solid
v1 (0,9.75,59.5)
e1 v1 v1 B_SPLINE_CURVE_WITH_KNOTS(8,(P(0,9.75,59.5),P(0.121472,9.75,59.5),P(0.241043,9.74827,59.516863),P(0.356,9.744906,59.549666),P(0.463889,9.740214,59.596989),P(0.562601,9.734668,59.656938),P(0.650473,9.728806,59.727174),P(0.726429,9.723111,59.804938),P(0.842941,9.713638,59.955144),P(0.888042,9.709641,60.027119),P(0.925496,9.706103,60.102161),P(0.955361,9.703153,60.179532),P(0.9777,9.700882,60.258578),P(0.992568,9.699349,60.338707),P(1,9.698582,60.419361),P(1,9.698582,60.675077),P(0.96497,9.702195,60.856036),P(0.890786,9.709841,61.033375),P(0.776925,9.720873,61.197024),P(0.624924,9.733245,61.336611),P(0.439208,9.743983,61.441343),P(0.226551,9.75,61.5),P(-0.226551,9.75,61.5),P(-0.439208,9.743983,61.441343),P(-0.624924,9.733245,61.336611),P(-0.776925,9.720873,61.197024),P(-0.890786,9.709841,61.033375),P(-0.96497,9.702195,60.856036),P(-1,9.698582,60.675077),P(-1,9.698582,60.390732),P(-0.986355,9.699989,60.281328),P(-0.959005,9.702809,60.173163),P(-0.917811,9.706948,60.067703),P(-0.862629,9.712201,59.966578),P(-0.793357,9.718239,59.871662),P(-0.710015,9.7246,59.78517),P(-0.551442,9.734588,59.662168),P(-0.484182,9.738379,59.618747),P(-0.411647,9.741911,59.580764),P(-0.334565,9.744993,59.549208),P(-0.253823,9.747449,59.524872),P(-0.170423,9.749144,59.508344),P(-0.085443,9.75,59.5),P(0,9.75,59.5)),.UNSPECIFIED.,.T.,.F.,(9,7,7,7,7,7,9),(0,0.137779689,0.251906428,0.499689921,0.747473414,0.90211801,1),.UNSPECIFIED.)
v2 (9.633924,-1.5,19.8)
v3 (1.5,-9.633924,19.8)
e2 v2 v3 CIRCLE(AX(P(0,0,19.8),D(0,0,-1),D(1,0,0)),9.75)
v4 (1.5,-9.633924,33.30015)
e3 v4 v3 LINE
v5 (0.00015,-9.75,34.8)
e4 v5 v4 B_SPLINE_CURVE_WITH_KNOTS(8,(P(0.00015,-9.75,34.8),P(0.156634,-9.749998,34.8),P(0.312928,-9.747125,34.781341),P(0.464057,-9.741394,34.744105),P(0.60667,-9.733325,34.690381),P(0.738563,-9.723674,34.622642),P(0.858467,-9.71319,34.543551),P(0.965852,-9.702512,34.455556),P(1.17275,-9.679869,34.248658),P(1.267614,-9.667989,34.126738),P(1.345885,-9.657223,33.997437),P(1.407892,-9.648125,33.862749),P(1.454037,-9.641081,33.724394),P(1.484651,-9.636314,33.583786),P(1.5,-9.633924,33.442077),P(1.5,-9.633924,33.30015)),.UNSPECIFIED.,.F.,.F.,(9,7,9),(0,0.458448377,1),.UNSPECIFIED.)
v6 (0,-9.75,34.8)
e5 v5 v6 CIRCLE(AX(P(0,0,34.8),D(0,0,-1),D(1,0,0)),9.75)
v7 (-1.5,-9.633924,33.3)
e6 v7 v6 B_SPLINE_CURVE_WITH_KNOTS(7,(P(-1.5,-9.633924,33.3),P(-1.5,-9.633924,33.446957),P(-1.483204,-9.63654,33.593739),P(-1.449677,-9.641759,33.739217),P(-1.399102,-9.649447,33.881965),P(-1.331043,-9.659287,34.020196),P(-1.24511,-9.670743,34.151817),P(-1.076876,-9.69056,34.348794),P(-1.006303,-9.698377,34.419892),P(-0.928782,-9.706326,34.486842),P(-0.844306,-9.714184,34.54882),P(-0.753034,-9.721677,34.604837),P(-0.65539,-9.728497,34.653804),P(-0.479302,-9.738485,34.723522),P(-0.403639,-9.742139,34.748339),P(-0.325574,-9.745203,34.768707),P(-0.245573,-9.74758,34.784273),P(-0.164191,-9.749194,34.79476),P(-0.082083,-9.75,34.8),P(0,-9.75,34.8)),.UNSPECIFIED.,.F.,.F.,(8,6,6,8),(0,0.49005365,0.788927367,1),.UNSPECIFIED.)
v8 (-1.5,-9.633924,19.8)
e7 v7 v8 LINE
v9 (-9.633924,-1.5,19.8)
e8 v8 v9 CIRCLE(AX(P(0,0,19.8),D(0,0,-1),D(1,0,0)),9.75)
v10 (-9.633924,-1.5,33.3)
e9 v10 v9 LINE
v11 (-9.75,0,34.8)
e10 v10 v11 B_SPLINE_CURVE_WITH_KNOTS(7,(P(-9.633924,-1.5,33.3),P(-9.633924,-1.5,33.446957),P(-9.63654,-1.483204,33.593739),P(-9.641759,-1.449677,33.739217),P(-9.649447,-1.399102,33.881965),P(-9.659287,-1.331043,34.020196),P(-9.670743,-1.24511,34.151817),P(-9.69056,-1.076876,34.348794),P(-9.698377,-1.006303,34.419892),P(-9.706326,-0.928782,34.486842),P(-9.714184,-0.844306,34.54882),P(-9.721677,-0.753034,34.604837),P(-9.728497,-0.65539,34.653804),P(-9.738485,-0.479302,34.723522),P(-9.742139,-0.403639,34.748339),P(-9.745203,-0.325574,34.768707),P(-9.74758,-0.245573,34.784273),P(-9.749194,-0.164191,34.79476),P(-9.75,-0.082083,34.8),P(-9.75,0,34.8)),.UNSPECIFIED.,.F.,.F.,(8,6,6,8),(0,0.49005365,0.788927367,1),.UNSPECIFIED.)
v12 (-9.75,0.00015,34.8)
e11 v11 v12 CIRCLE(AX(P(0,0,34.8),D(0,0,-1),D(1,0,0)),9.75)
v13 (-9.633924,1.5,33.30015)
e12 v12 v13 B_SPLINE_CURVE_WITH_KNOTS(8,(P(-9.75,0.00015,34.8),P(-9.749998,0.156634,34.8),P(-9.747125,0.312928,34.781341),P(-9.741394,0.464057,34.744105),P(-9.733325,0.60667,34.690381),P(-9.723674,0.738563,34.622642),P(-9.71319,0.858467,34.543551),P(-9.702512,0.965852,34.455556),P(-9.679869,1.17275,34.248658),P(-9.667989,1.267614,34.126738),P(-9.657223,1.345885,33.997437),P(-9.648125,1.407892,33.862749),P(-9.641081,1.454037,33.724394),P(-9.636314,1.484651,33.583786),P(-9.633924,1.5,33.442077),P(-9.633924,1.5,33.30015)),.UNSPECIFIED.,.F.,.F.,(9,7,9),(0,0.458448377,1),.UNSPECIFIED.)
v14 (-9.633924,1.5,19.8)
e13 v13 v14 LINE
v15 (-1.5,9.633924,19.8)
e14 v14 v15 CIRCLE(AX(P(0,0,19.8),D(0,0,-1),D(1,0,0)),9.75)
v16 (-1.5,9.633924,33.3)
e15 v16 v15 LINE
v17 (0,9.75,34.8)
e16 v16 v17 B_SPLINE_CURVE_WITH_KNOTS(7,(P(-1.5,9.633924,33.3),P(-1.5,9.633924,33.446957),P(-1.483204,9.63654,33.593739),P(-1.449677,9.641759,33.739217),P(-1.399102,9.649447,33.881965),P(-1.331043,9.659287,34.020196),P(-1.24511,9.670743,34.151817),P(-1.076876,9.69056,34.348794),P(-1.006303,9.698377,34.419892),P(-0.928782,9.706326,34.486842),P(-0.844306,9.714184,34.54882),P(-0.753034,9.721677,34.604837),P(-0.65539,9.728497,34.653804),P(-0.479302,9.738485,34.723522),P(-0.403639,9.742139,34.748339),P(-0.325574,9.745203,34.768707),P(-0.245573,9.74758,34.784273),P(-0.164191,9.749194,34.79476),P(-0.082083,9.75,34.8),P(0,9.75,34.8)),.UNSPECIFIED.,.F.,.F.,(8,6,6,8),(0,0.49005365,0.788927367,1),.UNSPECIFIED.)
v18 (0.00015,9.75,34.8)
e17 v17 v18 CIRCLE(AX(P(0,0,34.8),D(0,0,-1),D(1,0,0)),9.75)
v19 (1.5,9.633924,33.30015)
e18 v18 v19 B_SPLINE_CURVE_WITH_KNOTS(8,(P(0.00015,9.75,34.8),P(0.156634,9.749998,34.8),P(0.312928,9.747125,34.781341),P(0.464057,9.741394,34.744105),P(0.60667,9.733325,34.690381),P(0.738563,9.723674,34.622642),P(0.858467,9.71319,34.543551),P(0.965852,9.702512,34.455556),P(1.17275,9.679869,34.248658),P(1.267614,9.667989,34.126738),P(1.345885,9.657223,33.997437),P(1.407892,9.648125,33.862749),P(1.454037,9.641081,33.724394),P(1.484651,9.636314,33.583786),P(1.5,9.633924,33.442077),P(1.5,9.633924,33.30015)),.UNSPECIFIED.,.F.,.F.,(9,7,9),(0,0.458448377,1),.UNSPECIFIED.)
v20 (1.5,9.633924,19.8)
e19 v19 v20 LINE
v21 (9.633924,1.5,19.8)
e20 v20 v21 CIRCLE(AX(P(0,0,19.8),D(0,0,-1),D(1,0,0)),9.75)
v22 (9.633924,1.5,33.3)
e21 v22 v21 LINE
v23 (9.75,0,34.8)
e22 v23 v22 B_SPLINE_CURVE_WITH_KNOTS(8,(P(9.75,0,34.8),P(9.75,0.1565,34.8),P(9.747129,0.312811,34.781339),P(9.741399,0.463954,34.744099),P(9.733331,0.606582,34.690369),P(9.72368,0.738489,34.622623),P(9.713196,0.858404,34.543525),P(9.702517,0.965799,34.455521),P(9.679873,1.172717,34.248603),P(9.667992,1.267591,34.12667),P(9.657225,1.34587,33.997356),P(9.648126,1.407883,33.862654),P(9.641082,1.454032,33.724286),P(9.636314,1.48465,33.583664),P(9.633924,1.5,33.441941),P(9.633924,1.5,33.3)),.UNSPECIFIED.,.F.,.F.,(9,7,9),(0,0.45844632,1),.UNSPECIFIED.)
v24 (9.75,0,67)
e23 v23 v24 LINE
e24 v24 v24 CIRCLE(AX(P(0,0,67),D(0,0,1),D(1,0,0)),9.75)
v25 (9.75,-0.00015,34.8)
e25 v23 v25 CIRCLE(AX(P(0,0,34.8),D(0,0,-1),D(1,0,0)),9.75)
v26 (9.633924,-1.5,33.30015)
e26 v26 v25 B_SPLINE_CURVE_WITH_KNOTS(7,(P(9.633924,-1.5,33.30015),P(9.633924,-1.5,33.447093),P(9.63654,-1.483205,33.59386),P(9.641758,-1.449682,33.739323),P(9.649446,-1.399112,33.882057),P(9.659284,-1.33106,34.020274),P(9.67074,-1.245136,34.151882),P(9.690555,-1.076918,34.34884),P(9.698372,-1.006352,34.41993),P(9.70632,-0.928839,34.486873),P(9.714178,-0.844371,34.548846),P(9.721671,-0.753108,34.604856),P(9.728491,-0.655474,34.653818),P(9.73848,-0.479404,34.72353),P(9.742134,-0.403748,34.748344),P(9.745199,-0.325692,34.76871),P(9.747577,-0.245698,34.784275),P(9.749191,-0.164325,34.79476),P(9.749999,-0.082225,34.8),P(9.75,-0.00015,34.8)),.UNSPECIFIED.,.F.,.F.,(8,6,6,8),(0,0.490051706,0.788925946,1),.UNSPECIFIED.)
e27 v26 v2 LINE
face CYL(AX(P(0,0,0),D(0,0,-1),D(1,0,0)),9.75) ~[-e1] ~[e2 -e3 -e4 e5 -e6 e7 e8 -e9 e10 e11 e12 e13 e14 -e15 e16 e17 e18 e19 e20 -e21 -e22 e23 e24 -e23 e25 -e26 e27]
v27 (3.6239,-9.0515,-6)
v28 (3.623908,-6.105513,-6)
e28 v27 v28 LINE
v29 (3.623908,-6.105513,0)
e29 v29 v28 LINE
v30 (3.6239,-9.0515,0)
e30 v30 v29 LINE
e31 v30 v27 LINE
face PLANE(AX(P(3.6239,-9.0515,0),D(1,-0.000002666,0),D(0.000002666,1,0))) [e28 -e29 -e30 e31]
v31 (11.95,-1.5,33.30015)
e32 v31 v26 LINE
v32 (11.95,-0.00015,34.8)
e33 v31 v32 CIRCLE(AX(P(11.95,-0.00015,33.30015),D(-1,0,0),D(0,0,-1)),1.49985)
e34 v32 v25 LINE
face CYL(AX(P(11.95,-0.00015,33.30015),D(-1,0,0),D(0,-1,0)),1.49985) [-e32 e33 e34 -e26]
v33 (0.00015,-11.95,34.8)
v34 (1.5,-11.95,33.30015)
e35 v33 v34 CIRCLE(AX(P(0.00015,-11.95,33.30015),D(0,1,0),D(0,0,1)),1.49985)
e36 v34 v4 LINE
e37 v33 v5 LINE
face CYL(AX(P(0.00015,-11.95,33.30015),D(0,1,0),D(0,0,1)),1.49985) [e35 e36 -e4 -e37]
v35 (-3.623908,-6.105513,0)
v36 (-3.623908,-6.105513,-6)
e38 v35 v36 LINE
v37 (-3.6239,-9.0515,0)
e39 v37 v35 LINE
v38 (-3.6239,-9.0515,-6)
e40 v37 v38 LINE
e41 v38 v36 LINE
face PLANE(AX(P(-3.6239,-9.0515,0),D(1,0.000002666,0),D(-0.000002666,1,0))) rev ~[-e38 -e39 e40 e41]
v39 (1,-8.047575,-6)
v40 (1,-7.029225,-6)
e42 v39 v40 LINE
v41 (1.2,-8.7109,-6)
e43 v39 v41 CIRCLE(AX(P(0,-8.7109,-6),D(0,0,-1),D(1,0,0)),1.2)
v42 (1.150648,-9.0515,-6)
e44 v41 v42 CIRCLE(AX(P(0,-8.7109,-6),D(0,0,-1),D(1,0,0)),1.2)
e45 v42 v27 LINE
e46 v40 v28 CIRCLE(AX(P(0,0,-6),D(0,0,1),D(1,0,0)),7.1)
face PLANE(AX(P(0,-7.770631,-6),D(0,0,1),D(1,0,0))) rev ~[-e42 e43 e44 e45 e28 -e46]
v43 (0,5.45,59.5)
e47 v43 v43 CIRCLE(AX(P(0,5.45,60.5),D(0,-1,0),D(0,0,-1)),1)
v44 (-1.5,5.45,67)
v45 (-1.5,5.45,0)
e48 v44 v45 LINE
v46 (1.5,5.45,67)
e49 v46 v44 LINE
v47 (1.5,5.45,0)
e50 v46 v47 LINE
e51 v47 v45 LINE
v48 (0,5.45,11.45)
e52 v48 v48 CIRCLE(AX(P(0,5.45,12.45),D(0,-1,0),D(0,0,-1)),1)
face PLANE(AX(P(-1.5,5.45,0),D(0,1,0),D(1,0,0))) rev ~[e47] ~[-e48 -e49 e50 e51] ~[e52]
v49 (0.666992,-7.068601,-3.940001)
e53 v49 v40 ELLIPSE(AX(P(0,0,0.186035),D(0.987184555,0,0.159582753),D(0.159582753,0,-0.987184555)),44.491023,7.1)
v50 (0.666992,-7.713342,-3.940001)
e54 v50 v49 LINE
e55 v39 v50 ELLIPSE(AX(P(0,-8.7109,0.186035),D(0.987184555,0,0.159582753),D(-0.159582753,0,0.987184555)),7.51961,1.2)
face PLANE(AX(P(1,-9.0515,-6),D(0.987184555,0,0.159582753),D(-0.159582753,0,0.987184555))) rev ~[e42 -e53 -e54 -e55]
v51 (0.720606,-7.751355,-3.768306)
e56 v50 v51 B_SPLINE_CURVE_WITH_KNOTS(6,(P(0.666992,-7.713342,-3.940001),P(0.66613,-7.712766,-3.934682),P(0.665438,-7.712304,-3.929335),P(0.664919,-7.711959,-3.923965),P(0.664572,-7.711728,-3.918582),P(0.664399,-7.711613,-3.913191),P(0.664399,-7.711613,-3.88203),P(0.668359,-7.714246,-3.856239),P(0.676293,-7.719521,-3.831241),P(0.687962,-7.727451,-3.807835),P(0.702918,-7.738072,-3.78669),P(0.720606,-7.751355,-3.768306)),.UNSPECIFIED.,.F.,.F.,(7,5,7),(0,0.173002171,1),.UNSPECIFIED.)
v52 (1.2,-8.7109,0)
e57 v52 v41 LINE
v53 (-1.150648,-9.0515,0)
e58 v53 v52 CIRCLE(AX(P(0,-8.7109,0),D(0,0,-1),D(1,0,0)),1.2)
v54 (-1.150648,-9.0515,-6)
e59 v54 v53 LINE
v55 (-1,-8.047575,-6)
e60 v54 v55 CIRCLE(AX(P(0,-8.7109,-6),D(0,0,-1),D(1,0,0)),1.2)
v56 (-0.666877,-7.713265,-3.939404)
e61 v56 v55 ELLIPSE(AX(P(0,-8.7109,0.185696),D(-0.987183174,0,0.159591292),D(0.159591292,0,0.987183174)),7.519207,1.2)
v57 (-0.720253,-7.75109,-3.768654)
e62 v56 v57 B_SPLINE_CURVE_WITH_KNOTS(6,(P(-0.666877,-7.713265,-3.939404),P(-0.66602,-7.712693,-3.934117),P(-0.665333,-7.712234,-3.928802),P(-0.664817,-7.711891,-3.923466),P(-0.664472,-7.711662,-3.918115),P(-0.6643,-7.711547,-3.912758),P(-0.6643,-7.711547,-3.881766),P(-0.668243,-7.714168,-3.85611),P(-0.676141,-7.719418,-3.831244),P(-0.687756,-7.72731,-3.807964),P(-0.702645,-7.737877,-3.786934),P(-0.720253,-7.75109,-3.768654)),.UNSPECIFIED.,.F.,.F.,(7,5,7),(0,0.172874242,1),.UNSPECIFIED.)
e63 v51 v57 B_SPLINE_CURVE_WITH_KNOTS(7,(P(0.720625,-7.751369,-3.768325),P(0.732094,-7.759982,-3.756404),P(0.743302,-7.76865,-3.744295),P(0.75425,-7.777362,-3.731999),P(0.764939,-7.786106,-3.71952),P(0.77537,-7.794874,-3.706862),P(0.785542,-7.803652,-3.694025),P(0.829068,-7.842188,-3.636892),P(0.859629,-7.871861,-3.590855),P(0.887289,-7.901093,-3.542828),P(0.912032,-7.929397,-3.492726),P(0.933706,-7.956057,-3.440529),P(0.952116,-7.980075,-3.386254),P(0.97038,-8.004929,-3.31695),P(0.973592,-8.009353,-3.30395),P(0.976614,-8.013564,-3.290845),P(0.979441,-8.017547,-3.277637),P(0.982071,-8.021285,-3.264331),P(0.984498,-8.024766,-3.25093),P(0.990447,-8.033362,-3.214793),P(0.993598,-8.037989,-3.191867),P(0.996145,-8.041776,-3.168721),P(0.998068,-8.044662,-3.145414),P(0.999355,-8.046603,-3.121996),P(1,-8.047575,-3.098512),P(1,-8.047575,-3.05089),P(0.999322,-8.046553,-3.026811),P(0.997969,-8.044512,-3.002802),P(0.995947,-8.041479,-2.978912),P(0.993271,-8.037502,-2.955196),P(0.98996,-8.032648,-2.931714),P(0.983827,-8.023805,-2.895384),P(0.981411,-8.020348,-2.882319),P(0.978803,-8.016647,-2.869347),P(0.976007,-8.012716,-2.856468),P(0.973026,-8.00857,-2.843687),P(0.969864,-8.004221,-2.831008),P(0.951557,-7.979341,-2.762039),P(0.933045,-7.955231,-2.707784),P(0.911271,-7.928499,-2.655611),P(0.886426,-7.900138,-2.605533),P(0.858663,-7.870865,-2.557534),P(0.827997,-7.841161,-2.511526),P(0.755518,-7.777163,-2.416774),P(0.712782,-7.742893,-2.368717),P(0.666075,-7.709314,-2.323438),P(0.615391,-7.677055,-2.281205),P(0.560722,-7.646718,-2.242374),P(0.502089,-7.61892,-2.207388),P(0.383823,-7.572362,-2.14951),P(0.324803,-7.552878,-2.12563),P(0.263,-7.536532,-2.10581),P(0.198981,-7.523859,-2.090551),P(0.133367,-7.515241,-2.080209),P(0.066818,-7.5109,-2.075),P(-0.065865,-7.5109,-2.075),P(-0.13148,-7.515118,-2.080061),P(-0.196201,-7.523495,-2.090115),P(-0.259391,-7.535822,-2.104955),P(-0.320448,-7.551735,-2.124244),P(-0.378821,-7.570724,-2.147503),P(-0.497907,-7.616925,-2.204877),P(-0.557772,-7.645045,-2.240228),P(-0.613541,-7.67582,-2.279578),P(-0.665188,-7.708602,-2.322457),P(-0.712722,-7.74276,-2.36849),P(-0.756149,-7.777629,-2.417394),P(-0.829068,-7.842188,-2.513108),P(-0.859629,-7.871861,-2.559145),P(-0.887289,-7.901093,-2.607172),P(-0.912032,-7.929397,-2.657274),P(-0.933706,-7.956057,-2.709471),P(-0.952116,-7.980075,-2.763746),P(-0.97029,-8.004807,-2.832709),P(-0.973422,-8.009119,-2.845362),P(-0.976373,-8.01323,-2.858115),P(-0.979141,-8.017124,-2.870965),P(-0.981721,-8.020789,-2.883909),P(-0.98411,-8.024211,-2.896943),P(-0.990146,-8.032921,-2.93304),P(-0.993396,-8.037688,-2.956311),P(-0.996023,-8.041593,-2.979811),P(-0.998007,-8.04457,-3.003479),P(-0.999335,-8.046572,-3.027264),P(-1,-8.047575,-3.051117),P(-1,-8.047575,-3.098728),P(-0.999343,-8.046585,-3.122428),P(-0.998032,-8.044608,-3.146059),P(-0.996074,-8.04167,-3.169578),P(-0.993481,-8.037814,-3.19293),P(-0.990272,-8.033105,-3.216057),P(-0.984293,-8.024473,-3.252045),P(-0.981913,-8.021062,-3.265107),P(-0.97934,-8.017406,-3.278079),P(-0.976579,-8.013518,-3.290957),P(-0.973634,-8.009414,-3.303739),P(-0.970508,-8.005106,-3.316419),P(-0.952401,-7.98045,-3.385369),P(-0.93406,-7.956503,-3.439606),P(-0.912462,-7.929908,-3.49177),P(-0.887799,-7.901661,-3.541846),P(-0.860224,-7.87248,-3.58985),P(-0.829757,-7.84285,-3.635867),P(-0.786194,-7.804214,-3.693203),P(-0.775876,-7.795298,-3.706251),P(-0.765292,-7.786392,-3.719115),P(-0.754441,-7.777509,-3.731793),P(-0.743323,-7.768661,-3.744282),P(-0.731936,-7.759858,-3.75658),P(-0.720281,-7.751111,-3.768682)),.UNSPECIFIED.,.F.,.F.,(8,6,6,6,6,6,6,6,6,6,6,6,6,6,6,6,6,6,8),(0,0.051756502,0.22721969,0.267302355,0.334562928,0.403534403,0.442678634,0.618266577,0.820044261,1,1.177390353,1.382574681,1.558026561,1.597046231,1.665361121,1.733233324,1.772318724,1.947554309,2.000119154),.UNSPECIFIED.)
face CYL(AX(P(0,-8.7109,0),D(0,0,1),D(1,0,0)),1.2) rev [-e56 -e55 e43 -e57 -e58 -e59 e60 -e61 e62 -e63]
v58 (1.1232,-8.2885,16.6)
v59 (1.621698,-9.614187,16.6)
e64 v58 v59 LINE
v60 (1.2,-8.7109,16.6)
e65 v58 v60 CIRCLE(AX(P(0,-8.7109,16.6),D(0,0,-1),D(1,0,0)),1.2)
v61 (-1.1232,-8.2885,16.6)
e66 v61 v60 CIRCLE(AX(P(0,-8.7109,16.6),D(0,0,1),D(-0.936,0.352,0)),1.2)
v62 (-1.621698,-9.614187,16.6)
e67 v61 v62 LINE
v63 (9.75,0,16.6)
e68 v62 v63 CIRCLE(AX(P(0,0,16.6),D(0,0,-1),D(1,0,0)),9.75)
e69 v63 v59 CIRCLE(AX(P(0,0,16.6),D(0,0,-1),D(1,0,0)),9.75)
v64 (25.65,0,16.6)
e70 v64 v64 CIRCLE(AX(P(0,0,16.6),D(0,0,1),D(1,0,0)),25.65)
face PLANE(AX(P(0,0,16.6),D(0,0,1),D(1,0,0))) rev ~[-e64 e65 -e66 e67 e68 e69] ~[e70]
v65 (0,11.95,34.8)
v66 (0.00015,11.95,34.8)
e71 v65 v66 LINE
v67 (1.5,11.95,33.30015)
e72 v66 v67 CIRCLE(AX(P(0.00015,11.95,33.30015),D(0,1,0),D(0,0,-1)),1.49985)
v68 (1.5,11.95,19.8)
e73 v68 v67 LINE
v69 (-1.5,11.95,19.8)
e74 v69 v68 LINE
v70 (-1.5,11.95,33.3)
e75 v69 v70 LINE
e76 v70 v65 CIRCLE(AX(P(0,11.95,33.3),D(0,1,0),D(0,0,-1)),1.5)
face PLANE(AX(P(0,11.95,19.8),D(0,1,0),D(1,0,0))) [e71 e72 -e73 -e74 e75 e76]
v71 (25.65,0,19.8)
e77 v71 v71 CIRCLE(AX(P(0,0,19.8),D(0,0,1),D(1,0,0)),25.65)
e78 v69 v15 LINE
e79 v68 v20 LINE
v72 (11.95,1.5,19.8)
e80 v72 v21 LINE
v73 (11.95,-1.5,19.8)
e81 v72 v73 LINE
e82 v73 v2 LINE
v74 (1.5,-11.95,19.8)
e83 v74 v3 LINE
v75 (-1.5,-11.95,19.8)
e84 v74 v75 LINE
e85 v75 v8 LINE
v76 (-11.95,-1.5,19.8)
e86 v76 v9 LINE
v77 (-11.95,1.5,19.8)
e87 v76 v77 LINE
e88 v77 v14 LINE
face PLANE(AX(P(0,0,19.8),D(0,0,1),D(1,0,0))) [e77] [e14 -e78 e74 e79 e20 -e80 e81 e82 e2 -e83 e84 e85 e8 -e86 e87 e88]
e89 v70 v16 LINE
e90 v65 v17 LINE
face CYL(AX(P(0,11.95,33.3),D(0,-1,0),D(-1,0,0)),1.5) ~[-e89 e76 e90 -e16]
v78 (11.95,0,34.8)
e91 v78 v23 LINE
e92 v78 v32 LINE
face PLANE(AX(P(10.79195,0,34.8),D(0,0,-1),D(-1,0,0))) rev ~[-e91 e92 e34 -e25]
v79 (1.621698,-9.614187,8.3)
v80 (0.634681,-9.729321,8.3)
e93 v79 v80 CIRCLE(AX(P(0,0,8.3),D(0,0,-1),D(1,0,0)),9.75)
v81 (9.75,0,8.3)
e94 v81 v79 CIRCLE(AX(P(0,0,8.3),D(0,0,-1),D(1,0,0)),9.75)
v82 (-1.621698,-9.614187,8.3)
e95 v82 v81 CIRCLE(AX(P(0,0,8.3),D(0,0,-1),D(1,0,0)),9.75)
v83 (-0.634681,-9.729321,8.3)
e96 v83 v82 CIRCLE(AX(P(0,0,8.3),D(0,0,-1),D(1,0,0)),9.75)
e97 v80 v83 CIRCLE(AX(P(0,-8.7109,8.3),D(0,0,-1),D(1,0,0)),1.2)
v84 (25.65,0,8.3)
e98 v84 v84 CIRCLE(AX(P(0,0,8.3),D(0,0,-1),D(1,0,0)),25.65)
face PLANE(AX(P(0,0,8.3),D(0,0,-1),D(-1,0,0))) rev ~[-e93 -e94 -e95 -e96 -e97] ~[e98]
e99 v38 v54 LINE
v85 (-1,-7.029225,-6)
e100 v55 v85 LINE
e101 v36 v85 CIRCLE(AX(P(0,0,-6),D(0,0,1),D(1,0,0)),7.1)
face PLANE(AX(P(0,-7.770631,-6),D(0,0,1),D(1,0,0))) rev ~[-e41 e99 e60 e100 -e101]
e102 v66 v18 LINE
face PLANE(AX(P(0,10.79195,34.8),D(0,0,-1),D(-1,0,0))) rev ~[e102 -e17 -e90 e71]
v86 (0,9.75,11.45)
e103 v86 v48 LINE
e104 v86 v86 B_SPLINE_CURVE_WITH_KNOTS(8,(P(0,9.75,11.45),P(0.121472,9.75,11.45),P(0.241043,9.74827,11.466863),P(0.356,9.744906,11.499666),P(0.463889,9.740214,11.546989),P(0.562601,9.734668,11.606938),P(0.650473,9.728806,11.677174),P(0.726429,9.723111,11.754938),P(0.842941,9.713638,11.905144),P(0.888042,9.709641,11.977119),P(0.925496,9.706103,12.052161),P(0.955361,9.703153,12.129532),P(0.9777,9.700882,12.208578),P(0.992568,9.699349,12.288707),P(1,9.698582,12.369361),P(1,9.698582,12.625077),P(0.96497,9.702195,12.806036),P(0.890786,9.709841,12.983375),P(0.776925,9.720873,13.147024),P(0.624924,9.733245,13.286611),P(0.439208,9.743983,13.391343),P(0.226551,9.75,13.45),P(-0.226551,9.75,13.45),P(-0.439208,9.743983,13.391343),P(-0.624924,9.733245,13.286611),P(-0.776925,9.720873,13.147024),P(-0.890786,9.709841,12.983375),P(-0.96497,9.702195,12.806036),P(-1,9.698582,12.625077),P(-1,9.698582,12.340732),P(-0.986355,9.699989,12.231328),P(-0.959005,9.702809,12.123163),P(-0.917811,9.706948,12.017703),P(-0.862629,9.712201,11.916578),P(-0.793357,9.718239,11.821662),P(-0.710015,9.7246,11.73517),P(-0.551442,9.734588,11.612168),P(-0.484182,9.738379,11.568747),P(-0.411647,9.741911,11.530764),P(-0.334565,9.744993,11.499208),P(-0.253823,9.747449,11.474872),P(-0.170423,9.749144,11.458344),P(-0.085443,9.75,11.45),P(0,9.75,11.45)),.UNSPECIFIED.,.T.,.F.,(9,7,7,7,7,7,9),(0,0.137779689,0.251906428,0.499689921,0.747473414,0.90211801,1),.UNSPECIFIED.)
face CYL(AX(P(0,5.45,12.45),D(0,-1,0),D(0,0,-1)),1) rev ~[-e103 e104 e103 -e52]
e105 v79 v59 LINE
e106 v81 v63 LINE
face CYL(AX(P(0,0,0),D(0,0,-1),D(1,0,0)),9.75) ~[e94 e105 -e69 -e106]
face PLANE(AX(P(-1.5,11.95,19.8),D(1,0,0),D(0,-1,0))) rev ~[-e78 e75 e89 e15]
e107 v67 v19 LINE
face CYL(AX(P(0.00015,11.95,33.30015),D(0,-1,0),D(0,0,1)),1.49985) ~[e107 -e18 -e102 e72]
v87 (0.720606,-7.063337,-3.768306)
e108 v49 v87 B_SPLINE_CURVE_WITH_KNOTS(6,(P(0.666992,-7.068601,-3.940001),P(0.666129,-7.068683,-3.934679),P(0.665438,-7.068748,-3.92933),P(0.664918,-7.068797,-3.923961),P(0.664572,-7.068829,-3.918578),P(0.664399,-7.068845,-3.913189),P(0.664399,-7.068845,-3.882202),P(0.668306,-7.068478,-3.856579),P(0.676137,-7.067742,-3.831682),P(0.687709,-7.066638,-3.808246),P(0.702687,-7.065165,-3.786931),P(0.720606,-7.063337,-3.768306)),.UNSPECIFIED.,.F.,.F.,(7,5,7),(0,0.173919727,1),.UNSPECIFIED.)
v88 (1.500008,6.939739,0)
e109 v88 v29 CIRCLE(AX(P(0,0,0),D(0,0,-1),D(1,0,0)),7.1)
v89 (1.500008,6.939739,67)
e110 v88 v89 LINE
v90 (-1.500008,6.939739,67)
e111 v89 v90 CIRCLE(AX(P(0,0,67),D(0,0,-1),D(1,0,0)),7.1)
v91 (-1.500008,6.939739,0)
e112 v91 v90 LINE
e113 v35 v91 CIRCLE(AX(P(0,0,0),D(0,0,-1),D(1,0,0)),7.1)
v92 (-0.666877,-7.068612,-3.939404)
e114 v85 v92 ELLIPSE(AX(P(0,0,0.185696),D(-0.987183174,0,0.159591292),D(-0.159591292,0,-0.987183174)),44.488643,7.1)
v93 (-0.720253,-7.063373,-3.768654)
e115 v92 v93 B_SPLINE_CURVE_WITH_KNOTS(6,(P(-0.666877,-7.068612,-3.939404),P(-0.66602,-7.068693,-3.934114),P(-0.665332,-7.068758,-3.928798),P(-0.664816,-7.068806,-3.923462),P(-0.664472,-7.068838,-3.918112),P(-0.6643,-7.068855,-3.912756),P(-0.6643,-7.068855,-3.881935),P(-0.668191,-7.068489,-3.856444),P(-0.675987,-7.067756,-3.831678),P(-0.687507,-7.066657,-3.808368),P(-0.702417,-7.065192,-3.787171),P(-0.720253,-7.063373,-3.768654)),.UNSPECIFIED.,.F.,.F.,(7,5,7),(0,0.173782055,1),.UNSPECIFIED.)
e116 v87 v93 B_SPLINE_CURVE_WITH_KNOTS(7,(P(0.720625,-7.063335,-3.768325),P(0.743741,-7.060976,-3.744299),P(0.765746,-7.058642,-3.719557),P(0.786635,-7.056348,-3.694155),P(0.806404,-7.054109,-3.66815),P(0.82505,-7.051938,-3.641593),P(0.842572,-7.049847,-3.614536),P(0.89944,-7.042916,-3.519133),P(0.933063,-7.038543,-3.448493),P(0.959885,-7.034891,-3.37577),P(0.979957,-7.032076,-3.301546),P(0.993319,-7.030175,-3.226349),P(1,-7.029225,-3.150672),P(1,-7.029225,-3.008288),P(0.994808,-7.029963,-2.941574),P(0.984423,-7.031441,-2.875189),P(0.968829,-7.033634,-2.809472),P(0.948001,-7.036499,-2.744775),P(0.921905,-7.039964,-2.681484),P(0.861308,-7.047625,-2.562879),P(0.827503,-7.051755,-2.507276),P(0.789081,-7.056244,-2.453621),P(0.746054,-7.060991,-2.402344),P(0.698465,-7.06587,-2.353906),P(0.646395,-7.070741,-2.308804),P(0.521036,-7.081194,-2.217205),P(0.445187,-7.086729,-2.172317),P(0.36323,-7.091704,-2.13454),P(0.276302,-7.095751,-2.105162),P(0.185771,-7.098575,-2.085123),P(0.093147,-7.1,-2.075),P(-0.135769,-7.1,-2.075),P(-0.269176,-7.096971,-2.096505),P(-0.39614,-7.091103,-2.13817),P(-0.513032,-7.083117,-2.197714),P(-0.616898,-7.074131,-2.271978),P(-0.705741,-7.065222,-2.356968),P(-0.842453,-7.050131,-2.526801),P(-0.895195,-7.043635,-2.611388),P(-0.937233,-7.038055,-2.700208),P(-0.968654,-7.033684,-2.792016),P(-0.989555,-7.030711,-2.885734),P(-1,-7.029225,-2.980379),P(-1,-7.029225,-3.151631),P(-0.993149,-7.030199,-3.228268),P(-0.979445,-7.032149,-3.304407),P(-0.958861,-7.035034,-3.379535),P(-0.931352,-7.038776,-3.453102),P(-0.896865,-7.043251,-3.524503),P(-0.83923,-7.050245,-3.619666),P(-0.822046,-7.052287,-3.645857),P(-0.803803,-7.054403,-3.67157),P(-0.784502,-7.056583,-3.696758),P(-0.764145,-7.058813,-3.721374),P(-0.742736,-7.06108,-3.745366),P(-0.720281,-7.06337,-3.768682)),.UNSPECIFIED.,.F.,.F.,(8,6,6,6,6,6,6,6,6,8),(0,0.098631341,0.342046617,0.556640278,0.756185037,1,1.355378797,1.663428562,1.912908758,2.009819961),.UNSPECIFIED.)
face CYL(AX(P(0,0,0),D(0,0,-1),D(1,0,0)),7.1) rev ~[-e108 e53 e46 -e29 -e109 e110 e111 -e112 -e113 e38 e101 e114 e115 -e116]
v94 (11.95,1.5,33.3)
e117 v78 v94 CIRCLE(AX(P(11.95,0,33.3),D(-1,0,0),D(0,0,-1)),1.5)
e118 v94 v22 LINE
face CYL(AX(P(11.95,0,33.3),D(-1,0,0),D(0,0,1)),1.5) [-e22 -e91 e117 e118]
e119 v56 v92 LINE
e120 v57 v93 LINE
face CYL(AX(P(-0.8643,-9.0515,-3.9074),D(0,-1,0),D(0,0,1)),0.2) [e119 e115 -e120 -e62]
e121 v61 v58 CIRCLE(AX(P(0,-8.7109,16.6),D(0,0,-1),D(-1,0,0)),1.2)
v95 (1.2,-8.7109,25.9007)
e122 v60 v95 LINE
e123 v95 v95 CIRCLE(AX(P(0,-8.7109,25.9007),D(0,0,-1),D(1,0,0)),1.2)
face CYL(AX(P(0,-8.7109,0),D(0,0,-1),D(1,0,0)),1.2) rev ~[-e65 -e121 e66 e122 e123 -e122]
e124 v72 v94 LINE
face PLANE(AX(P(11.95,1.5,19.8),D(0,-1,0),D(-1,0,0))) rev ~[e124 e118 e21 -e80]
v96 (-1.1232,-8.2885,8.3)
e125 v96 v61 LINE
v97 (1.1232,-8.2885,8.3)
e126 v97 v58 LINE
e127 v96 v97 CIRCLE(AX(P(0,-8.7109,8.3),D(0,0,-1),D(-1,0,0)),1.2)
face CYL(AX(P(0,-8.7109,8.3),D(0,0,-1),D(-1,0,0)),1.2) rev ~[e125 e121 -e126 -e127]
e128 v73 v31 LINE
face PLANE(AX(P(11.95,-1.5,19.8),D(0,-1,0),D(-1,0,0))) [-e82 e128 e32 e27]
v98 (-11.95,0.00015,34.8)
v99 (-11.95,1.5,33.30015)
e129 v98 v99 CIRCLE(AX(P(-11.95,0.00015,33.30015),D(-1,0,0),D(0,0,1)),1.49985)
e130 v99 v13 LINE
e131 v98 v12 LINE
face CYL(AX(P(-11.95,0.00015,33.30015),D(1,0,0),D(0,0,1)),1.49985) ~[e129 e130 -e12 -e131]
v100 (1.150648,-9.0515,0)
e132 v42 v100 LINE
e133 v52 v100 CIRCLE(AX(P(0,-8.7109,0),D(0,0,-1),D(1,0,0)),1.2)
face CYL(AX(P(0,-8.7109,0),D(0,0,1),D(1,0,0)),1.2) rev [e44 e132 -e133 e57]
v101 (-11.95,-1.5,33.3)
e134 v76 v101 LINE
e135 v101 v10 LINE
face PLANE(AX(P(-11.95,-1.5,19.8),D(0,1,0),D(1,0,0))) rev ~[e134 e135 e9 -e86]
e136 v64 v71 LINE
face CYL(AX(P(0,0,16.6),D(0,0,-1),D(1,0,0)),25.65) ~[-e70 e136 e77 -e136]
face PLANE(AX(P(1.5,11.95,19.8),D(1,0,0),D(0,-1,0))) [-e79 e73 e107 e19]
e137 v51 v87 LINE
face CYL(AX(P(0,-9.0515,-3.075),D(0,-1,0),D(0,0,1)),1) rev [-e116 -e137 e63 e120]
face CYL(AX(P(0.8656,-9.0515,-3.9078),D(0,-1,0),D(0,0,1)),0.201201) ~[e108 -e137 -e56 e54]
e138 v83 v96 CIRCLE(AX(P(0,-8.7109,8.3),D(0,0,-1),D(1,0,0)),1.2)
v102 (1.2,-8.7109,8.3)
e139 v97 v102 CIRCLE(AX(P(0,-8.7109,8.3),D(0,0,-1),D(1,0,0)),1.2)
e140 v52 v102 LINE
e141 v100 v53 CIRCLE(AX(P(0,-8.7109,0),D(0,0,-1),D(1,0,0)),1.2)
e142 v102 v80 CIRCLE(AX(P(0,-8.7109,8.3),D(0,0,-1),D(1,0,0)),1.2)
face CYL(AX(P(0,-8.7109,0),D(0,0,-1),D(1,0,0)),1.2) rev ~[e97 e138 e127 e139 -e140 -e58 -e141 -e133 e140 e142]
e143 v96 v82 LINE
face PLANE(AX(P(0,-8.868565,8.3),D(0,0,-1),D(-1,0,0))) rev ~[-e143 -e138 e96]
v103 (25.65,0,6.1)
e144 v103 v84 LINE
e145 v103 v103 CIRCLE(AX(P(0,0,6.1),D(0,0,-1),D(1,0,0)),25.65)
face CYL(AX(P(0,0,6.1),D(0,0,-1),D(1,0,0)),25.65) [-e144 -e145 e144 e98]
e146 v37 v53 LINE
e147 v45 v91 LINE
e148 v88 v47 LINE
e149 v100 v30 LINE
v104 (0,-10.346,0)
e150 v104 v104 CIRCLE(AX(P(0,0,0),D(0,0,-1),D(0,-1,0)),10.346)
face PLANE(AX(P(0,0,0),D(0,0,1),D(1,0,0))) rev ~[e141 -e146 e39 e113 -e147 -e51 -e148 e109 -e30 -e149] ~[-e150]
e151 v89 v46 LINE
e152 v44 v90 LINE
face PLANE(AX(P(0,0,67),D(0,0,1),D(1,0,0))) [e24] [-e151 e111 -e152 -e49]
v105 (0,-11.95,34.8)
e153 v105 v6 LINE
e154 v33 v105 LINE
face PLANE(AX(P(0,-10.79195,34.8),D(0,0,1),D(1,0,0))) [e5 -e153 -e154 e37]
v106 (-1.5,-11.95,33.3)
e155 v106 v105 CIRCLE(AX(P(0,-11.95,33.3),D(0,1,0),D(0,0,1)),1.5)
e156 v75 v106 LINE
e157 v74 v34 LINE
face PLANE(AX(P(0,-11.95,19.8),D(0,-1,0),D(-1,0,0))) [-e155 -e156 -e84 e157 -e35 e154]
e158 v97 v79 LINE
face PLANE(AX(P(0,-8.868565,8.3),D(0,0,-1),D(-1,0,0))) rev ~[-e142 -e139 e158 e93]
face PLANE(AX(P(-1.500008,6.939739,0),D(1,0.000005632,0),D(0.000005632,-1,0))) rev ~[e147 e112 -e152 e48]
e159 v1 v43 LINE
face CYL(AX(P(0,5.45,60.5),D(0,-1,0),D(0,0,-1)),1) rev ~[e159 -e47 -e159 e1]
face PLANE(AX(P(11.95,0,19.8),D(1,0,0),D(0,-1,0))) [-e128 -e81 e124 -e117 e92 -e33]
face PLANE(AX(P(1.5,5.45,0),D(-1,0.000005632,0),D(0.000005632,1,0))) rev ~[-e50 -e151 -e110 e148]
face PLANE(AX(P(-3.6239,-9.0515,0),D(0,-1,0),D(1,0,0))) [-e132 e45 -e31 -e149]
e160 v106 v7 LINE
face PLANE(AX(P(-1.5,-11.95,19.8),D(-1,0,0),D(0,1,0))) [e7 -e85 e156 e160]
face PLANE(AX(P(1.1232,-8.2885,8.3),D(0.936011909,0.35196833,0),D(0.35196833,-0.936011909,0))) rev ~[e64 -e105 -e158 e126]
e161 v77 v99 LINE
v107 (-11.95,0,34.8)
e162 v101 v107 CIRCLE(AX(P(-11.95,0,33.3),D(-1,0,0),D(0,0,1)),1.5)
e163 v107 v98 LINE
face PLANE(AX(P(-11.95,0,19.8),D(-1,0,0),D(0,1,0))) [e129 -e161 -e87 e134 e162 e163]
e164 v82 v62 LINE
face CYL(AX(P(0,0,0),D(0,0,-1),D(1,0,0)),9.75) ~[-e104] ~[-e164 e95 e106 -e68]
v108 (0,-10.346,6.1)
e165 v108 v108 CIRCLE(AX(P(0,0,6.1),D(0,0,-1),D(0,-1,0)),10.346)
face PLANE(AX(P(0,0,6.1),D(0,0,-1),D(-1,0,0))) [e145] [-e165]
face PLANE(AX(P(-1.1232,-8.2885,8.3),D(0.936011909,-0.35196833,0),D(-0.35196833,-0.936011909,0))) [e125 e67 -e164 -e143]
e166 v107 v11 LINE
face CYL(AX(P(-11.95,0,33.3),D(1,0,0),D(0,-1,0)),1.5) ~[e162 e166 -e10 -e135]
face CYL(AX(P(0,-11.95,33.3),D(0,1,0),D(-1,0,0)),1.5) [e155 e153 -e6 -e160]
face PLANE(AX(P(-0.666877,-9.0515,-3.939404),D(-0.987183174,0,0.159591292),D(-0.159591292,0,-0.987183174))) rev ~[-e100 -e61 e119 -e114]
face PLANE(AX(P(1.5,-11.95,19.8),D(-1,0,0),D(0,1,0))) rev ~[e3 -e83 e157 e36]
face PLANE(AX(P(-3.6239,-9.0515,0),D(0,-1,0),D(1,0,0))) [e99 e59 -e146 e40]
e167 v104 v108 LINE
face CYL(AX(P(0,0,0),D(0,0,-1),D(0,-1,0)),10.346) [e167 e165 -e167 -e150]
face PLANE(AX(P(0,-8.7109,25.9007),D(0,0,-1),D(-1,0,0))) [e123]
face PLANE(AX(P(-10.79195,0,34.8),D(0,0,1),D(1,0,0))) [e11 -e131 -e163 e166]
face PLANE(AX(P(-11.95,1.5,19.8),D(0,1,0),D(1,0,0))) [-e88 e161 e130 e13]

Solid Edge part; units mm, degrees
sketch "Sketch1" plane through (0, 0, 0) normal (0, 0, 1) x (1, 0, 0)
  circle A0 centre (0, 0) radius 9.75
extrude "ProtrusioneEstrusa_1" add sketch "Sketch1" along normal blind 67
sketch "Sketch2" plane through (0, 0, 6.1) normal (0, 0, -1) x (1, 0, 0)
  circle A0 centre (0, 0) radius 25.65
extrude "ProtrusioneEstrusa_2" add sketch "Sketch2" against normal blind 2.2
sketch "Sketch3" plane through (0, 0, 16.6) normal (0, 0, 1) x (1, 0, 0)
  circle A0 centre (0, 0) radius 25.65
extrude "ProtrusioneEstrusa_3" add sketch "Sketch3" along normal blind 3.2
sketch "Sketch4" plane through (0, 0, 19.8) normal (0, 0, 1) x (1, 0, 0)
  line L0 (-11.95, -1.5) -> (-9.6339, -1.5)
  line L1 (-9.6339, -1.5) -> (-9.6339, 1.5)
  line L2 (-11.95, 1.5) -> (-9.6339, 1.5)
  line L3 (-11.95, 0) -> (-11.95, 1.5)
  line L4 (-11.95, 0) -> (-11.95, -1.5)
  line L5 (0, -11.95) -> (1.5, -11.95)
  line L6 (1.5, -11.95) -> (1.5, -9.6339)
  line L7 (1.5, -9.6339) -> (-1.5, -9.6339)
  line L8 (-1.5, -11.95) -> (-1.5, -9.6339)
  line L9 (0, -11.95) -> (-1.5, -11.95)
  line L10 (1.5, 11.95) -> (1.5, 9.6339)
  line L11 (-1.5, 9.6339) -> (1.5, 9.6339)
  line L12 (-1.5, 11.95) -> (-1.5, 9.6339)
  line L13 (0, 11.95) -> (-1.5, 11.95)
  line L14 (0, 11.95) -> (1.5, 11.95)
  line L15 (11.95, 0) -> (11.95, -1.5)
  line L16 (11.95, -1.5) -> (9.6339, -1.5)
  line L17 (9.6339, 1.5) -> (9.6339, -1.5)
  line L18 (11.95, 1.5) -> (9.6339, 1.5)
  line L19 (11.95, 0) -> (11.95, 1.5)
extrude "ProtrusioneEstrusa_4" add sketch "Sketch4" along normal blind 15
sketch "Sketch5" plane through (0, 5.45, 33.5) normal (0, -1, 0) x (0, 0, -1)
  circle A0 centre (21.05, 0) radius 1
  circle A1 centre (-27, 0) radius 1
extrude "ScavoEstrusione_3" cut sketch "Sketch5" against normal blind 12.2631 and the other way blind 0.5254
sketch "Sketch6" plane through (0, 0, 0) normal (0, 0, -1) x (1, 0, 0)
  line L0 (3.6239, 9.0515) -> (3.6239, 6.1055)
  arc A0 (-3.6239, 6.1055) -> (3.6239, 6.1055) centre (0, 0) cw
  line L1 (-3.6239, 9.0515) -> (-3.6239, 6.1055)
  line L2 (-3.6239, 9.0515) -> (3.6239, 9.0515)
extrude "ProtrusioneEstrusa_5" add sketch "Sketch6" along normal blind 6
sketch "Sketch7" plane through (0, 0.3492, 0) normal (0, 0, -1) x (0, -1, 0)
  circle A0 centre (0.3492, 0) radius 10.346
extrude "ProtrusioneEstrusa_6" add sketch "Sketch7" against normal blind 6.5682
sketch "Sketch8" plane through (0, 0, 0) normal (0, 0, 1) x (1, 0, 0)
  line L0 (-1.5, 6.9397) -> (-1.5, 5.45)
  line L1 (-1.5, 5.45) -> (1.5, 5.45)
  line L2 (1.5, 5.45) -> (1.5, 6.9397)
  arc A0 (1.5, 6.9397) -> (-1.5, 6.9397) centre (0, 0) cw
extrude "ScavoEstrusione_1" cut sketch "Sketch8" along normal mid plane 447.4642
fillet "Rotondo_1" radius 1.5 1 edges at (-1.5, -10.792, 34.8)
fillet "Rotondo_2" radius 1.5 1 edges at (1.5, -10.792, 34.8)
fillet "Rotondo_3" radius 1.5 3 edges at (-10.792, -1.5, 34.8) (-1.5, 10.792, 34.8) (10.792, 1.5, 34.8)
fillet "Rotondo_4" radius 1.5 3 edges at (-10.792, 1.5, 34.8) (1.5, 10.792, 34.8) (10.792, -1.5, 34.8)
sketch "Sketch9" plane through (0, 0, 0) normal (0, 0, -1) x (1, 0, 0)
  circle A0 centre (0, 8.7109) radius 1.2
extrude "ScavoEstrusione_5" cut sketch "Sketch9" along normal up to vertex (6 mm away) and the other way blind 25.9007
sketch "Sketch10" plane through (0, 0, 8.3) normal (0, 0, 1) x (-1, 0, 0)
  arc A0 (-1.6217, 9.6142) -> (1.6217, 9.6142) centre (0, 0) cw
  line L0 (1.1232, 8.2885) -> (1.6217, 9.6142)
  line L1 (-1.1232, 8.2885) -> (-1.6217, 9.6142)
  arc A1 (1.1232, 8.2885) -> (-1.1232, 8.2885) centre (0, 8.7109) cw
extrude "Cutout1" cut sketch "Sketch10" along normal up to vertex (8.3 mm away)
sketch "Sketch11" plane through (-2.3873, -9.0515, -3) normal (0, -1, 0) x (0, 0, 1)
  line L0 (-3, -3.3873) -> (-3, -1.3873)
  line L1 (-0.9394, -1.7204) -> (-3, -1.3873)
  arc A0 (-0.9394, -1.7204) -> (-0.7687, -1.667) centre (-0.9074, -1.523) ccw
  arc A1 (-0.94, -3.0543) -> (-0.7683, -3.1079) centre (-0.9078, -3.2529) cw
  line L2 (-3, -3.3873) -> (-0.94, -3.0543)
  arc A2 (-0.7687, -1.667) -> (-0.7683, -3.1079) centre (-0.075, -2.3873) cw
extrude "ScavoEstrusione_7" cut sketch "Sketch11" against normal blind 3.9764
